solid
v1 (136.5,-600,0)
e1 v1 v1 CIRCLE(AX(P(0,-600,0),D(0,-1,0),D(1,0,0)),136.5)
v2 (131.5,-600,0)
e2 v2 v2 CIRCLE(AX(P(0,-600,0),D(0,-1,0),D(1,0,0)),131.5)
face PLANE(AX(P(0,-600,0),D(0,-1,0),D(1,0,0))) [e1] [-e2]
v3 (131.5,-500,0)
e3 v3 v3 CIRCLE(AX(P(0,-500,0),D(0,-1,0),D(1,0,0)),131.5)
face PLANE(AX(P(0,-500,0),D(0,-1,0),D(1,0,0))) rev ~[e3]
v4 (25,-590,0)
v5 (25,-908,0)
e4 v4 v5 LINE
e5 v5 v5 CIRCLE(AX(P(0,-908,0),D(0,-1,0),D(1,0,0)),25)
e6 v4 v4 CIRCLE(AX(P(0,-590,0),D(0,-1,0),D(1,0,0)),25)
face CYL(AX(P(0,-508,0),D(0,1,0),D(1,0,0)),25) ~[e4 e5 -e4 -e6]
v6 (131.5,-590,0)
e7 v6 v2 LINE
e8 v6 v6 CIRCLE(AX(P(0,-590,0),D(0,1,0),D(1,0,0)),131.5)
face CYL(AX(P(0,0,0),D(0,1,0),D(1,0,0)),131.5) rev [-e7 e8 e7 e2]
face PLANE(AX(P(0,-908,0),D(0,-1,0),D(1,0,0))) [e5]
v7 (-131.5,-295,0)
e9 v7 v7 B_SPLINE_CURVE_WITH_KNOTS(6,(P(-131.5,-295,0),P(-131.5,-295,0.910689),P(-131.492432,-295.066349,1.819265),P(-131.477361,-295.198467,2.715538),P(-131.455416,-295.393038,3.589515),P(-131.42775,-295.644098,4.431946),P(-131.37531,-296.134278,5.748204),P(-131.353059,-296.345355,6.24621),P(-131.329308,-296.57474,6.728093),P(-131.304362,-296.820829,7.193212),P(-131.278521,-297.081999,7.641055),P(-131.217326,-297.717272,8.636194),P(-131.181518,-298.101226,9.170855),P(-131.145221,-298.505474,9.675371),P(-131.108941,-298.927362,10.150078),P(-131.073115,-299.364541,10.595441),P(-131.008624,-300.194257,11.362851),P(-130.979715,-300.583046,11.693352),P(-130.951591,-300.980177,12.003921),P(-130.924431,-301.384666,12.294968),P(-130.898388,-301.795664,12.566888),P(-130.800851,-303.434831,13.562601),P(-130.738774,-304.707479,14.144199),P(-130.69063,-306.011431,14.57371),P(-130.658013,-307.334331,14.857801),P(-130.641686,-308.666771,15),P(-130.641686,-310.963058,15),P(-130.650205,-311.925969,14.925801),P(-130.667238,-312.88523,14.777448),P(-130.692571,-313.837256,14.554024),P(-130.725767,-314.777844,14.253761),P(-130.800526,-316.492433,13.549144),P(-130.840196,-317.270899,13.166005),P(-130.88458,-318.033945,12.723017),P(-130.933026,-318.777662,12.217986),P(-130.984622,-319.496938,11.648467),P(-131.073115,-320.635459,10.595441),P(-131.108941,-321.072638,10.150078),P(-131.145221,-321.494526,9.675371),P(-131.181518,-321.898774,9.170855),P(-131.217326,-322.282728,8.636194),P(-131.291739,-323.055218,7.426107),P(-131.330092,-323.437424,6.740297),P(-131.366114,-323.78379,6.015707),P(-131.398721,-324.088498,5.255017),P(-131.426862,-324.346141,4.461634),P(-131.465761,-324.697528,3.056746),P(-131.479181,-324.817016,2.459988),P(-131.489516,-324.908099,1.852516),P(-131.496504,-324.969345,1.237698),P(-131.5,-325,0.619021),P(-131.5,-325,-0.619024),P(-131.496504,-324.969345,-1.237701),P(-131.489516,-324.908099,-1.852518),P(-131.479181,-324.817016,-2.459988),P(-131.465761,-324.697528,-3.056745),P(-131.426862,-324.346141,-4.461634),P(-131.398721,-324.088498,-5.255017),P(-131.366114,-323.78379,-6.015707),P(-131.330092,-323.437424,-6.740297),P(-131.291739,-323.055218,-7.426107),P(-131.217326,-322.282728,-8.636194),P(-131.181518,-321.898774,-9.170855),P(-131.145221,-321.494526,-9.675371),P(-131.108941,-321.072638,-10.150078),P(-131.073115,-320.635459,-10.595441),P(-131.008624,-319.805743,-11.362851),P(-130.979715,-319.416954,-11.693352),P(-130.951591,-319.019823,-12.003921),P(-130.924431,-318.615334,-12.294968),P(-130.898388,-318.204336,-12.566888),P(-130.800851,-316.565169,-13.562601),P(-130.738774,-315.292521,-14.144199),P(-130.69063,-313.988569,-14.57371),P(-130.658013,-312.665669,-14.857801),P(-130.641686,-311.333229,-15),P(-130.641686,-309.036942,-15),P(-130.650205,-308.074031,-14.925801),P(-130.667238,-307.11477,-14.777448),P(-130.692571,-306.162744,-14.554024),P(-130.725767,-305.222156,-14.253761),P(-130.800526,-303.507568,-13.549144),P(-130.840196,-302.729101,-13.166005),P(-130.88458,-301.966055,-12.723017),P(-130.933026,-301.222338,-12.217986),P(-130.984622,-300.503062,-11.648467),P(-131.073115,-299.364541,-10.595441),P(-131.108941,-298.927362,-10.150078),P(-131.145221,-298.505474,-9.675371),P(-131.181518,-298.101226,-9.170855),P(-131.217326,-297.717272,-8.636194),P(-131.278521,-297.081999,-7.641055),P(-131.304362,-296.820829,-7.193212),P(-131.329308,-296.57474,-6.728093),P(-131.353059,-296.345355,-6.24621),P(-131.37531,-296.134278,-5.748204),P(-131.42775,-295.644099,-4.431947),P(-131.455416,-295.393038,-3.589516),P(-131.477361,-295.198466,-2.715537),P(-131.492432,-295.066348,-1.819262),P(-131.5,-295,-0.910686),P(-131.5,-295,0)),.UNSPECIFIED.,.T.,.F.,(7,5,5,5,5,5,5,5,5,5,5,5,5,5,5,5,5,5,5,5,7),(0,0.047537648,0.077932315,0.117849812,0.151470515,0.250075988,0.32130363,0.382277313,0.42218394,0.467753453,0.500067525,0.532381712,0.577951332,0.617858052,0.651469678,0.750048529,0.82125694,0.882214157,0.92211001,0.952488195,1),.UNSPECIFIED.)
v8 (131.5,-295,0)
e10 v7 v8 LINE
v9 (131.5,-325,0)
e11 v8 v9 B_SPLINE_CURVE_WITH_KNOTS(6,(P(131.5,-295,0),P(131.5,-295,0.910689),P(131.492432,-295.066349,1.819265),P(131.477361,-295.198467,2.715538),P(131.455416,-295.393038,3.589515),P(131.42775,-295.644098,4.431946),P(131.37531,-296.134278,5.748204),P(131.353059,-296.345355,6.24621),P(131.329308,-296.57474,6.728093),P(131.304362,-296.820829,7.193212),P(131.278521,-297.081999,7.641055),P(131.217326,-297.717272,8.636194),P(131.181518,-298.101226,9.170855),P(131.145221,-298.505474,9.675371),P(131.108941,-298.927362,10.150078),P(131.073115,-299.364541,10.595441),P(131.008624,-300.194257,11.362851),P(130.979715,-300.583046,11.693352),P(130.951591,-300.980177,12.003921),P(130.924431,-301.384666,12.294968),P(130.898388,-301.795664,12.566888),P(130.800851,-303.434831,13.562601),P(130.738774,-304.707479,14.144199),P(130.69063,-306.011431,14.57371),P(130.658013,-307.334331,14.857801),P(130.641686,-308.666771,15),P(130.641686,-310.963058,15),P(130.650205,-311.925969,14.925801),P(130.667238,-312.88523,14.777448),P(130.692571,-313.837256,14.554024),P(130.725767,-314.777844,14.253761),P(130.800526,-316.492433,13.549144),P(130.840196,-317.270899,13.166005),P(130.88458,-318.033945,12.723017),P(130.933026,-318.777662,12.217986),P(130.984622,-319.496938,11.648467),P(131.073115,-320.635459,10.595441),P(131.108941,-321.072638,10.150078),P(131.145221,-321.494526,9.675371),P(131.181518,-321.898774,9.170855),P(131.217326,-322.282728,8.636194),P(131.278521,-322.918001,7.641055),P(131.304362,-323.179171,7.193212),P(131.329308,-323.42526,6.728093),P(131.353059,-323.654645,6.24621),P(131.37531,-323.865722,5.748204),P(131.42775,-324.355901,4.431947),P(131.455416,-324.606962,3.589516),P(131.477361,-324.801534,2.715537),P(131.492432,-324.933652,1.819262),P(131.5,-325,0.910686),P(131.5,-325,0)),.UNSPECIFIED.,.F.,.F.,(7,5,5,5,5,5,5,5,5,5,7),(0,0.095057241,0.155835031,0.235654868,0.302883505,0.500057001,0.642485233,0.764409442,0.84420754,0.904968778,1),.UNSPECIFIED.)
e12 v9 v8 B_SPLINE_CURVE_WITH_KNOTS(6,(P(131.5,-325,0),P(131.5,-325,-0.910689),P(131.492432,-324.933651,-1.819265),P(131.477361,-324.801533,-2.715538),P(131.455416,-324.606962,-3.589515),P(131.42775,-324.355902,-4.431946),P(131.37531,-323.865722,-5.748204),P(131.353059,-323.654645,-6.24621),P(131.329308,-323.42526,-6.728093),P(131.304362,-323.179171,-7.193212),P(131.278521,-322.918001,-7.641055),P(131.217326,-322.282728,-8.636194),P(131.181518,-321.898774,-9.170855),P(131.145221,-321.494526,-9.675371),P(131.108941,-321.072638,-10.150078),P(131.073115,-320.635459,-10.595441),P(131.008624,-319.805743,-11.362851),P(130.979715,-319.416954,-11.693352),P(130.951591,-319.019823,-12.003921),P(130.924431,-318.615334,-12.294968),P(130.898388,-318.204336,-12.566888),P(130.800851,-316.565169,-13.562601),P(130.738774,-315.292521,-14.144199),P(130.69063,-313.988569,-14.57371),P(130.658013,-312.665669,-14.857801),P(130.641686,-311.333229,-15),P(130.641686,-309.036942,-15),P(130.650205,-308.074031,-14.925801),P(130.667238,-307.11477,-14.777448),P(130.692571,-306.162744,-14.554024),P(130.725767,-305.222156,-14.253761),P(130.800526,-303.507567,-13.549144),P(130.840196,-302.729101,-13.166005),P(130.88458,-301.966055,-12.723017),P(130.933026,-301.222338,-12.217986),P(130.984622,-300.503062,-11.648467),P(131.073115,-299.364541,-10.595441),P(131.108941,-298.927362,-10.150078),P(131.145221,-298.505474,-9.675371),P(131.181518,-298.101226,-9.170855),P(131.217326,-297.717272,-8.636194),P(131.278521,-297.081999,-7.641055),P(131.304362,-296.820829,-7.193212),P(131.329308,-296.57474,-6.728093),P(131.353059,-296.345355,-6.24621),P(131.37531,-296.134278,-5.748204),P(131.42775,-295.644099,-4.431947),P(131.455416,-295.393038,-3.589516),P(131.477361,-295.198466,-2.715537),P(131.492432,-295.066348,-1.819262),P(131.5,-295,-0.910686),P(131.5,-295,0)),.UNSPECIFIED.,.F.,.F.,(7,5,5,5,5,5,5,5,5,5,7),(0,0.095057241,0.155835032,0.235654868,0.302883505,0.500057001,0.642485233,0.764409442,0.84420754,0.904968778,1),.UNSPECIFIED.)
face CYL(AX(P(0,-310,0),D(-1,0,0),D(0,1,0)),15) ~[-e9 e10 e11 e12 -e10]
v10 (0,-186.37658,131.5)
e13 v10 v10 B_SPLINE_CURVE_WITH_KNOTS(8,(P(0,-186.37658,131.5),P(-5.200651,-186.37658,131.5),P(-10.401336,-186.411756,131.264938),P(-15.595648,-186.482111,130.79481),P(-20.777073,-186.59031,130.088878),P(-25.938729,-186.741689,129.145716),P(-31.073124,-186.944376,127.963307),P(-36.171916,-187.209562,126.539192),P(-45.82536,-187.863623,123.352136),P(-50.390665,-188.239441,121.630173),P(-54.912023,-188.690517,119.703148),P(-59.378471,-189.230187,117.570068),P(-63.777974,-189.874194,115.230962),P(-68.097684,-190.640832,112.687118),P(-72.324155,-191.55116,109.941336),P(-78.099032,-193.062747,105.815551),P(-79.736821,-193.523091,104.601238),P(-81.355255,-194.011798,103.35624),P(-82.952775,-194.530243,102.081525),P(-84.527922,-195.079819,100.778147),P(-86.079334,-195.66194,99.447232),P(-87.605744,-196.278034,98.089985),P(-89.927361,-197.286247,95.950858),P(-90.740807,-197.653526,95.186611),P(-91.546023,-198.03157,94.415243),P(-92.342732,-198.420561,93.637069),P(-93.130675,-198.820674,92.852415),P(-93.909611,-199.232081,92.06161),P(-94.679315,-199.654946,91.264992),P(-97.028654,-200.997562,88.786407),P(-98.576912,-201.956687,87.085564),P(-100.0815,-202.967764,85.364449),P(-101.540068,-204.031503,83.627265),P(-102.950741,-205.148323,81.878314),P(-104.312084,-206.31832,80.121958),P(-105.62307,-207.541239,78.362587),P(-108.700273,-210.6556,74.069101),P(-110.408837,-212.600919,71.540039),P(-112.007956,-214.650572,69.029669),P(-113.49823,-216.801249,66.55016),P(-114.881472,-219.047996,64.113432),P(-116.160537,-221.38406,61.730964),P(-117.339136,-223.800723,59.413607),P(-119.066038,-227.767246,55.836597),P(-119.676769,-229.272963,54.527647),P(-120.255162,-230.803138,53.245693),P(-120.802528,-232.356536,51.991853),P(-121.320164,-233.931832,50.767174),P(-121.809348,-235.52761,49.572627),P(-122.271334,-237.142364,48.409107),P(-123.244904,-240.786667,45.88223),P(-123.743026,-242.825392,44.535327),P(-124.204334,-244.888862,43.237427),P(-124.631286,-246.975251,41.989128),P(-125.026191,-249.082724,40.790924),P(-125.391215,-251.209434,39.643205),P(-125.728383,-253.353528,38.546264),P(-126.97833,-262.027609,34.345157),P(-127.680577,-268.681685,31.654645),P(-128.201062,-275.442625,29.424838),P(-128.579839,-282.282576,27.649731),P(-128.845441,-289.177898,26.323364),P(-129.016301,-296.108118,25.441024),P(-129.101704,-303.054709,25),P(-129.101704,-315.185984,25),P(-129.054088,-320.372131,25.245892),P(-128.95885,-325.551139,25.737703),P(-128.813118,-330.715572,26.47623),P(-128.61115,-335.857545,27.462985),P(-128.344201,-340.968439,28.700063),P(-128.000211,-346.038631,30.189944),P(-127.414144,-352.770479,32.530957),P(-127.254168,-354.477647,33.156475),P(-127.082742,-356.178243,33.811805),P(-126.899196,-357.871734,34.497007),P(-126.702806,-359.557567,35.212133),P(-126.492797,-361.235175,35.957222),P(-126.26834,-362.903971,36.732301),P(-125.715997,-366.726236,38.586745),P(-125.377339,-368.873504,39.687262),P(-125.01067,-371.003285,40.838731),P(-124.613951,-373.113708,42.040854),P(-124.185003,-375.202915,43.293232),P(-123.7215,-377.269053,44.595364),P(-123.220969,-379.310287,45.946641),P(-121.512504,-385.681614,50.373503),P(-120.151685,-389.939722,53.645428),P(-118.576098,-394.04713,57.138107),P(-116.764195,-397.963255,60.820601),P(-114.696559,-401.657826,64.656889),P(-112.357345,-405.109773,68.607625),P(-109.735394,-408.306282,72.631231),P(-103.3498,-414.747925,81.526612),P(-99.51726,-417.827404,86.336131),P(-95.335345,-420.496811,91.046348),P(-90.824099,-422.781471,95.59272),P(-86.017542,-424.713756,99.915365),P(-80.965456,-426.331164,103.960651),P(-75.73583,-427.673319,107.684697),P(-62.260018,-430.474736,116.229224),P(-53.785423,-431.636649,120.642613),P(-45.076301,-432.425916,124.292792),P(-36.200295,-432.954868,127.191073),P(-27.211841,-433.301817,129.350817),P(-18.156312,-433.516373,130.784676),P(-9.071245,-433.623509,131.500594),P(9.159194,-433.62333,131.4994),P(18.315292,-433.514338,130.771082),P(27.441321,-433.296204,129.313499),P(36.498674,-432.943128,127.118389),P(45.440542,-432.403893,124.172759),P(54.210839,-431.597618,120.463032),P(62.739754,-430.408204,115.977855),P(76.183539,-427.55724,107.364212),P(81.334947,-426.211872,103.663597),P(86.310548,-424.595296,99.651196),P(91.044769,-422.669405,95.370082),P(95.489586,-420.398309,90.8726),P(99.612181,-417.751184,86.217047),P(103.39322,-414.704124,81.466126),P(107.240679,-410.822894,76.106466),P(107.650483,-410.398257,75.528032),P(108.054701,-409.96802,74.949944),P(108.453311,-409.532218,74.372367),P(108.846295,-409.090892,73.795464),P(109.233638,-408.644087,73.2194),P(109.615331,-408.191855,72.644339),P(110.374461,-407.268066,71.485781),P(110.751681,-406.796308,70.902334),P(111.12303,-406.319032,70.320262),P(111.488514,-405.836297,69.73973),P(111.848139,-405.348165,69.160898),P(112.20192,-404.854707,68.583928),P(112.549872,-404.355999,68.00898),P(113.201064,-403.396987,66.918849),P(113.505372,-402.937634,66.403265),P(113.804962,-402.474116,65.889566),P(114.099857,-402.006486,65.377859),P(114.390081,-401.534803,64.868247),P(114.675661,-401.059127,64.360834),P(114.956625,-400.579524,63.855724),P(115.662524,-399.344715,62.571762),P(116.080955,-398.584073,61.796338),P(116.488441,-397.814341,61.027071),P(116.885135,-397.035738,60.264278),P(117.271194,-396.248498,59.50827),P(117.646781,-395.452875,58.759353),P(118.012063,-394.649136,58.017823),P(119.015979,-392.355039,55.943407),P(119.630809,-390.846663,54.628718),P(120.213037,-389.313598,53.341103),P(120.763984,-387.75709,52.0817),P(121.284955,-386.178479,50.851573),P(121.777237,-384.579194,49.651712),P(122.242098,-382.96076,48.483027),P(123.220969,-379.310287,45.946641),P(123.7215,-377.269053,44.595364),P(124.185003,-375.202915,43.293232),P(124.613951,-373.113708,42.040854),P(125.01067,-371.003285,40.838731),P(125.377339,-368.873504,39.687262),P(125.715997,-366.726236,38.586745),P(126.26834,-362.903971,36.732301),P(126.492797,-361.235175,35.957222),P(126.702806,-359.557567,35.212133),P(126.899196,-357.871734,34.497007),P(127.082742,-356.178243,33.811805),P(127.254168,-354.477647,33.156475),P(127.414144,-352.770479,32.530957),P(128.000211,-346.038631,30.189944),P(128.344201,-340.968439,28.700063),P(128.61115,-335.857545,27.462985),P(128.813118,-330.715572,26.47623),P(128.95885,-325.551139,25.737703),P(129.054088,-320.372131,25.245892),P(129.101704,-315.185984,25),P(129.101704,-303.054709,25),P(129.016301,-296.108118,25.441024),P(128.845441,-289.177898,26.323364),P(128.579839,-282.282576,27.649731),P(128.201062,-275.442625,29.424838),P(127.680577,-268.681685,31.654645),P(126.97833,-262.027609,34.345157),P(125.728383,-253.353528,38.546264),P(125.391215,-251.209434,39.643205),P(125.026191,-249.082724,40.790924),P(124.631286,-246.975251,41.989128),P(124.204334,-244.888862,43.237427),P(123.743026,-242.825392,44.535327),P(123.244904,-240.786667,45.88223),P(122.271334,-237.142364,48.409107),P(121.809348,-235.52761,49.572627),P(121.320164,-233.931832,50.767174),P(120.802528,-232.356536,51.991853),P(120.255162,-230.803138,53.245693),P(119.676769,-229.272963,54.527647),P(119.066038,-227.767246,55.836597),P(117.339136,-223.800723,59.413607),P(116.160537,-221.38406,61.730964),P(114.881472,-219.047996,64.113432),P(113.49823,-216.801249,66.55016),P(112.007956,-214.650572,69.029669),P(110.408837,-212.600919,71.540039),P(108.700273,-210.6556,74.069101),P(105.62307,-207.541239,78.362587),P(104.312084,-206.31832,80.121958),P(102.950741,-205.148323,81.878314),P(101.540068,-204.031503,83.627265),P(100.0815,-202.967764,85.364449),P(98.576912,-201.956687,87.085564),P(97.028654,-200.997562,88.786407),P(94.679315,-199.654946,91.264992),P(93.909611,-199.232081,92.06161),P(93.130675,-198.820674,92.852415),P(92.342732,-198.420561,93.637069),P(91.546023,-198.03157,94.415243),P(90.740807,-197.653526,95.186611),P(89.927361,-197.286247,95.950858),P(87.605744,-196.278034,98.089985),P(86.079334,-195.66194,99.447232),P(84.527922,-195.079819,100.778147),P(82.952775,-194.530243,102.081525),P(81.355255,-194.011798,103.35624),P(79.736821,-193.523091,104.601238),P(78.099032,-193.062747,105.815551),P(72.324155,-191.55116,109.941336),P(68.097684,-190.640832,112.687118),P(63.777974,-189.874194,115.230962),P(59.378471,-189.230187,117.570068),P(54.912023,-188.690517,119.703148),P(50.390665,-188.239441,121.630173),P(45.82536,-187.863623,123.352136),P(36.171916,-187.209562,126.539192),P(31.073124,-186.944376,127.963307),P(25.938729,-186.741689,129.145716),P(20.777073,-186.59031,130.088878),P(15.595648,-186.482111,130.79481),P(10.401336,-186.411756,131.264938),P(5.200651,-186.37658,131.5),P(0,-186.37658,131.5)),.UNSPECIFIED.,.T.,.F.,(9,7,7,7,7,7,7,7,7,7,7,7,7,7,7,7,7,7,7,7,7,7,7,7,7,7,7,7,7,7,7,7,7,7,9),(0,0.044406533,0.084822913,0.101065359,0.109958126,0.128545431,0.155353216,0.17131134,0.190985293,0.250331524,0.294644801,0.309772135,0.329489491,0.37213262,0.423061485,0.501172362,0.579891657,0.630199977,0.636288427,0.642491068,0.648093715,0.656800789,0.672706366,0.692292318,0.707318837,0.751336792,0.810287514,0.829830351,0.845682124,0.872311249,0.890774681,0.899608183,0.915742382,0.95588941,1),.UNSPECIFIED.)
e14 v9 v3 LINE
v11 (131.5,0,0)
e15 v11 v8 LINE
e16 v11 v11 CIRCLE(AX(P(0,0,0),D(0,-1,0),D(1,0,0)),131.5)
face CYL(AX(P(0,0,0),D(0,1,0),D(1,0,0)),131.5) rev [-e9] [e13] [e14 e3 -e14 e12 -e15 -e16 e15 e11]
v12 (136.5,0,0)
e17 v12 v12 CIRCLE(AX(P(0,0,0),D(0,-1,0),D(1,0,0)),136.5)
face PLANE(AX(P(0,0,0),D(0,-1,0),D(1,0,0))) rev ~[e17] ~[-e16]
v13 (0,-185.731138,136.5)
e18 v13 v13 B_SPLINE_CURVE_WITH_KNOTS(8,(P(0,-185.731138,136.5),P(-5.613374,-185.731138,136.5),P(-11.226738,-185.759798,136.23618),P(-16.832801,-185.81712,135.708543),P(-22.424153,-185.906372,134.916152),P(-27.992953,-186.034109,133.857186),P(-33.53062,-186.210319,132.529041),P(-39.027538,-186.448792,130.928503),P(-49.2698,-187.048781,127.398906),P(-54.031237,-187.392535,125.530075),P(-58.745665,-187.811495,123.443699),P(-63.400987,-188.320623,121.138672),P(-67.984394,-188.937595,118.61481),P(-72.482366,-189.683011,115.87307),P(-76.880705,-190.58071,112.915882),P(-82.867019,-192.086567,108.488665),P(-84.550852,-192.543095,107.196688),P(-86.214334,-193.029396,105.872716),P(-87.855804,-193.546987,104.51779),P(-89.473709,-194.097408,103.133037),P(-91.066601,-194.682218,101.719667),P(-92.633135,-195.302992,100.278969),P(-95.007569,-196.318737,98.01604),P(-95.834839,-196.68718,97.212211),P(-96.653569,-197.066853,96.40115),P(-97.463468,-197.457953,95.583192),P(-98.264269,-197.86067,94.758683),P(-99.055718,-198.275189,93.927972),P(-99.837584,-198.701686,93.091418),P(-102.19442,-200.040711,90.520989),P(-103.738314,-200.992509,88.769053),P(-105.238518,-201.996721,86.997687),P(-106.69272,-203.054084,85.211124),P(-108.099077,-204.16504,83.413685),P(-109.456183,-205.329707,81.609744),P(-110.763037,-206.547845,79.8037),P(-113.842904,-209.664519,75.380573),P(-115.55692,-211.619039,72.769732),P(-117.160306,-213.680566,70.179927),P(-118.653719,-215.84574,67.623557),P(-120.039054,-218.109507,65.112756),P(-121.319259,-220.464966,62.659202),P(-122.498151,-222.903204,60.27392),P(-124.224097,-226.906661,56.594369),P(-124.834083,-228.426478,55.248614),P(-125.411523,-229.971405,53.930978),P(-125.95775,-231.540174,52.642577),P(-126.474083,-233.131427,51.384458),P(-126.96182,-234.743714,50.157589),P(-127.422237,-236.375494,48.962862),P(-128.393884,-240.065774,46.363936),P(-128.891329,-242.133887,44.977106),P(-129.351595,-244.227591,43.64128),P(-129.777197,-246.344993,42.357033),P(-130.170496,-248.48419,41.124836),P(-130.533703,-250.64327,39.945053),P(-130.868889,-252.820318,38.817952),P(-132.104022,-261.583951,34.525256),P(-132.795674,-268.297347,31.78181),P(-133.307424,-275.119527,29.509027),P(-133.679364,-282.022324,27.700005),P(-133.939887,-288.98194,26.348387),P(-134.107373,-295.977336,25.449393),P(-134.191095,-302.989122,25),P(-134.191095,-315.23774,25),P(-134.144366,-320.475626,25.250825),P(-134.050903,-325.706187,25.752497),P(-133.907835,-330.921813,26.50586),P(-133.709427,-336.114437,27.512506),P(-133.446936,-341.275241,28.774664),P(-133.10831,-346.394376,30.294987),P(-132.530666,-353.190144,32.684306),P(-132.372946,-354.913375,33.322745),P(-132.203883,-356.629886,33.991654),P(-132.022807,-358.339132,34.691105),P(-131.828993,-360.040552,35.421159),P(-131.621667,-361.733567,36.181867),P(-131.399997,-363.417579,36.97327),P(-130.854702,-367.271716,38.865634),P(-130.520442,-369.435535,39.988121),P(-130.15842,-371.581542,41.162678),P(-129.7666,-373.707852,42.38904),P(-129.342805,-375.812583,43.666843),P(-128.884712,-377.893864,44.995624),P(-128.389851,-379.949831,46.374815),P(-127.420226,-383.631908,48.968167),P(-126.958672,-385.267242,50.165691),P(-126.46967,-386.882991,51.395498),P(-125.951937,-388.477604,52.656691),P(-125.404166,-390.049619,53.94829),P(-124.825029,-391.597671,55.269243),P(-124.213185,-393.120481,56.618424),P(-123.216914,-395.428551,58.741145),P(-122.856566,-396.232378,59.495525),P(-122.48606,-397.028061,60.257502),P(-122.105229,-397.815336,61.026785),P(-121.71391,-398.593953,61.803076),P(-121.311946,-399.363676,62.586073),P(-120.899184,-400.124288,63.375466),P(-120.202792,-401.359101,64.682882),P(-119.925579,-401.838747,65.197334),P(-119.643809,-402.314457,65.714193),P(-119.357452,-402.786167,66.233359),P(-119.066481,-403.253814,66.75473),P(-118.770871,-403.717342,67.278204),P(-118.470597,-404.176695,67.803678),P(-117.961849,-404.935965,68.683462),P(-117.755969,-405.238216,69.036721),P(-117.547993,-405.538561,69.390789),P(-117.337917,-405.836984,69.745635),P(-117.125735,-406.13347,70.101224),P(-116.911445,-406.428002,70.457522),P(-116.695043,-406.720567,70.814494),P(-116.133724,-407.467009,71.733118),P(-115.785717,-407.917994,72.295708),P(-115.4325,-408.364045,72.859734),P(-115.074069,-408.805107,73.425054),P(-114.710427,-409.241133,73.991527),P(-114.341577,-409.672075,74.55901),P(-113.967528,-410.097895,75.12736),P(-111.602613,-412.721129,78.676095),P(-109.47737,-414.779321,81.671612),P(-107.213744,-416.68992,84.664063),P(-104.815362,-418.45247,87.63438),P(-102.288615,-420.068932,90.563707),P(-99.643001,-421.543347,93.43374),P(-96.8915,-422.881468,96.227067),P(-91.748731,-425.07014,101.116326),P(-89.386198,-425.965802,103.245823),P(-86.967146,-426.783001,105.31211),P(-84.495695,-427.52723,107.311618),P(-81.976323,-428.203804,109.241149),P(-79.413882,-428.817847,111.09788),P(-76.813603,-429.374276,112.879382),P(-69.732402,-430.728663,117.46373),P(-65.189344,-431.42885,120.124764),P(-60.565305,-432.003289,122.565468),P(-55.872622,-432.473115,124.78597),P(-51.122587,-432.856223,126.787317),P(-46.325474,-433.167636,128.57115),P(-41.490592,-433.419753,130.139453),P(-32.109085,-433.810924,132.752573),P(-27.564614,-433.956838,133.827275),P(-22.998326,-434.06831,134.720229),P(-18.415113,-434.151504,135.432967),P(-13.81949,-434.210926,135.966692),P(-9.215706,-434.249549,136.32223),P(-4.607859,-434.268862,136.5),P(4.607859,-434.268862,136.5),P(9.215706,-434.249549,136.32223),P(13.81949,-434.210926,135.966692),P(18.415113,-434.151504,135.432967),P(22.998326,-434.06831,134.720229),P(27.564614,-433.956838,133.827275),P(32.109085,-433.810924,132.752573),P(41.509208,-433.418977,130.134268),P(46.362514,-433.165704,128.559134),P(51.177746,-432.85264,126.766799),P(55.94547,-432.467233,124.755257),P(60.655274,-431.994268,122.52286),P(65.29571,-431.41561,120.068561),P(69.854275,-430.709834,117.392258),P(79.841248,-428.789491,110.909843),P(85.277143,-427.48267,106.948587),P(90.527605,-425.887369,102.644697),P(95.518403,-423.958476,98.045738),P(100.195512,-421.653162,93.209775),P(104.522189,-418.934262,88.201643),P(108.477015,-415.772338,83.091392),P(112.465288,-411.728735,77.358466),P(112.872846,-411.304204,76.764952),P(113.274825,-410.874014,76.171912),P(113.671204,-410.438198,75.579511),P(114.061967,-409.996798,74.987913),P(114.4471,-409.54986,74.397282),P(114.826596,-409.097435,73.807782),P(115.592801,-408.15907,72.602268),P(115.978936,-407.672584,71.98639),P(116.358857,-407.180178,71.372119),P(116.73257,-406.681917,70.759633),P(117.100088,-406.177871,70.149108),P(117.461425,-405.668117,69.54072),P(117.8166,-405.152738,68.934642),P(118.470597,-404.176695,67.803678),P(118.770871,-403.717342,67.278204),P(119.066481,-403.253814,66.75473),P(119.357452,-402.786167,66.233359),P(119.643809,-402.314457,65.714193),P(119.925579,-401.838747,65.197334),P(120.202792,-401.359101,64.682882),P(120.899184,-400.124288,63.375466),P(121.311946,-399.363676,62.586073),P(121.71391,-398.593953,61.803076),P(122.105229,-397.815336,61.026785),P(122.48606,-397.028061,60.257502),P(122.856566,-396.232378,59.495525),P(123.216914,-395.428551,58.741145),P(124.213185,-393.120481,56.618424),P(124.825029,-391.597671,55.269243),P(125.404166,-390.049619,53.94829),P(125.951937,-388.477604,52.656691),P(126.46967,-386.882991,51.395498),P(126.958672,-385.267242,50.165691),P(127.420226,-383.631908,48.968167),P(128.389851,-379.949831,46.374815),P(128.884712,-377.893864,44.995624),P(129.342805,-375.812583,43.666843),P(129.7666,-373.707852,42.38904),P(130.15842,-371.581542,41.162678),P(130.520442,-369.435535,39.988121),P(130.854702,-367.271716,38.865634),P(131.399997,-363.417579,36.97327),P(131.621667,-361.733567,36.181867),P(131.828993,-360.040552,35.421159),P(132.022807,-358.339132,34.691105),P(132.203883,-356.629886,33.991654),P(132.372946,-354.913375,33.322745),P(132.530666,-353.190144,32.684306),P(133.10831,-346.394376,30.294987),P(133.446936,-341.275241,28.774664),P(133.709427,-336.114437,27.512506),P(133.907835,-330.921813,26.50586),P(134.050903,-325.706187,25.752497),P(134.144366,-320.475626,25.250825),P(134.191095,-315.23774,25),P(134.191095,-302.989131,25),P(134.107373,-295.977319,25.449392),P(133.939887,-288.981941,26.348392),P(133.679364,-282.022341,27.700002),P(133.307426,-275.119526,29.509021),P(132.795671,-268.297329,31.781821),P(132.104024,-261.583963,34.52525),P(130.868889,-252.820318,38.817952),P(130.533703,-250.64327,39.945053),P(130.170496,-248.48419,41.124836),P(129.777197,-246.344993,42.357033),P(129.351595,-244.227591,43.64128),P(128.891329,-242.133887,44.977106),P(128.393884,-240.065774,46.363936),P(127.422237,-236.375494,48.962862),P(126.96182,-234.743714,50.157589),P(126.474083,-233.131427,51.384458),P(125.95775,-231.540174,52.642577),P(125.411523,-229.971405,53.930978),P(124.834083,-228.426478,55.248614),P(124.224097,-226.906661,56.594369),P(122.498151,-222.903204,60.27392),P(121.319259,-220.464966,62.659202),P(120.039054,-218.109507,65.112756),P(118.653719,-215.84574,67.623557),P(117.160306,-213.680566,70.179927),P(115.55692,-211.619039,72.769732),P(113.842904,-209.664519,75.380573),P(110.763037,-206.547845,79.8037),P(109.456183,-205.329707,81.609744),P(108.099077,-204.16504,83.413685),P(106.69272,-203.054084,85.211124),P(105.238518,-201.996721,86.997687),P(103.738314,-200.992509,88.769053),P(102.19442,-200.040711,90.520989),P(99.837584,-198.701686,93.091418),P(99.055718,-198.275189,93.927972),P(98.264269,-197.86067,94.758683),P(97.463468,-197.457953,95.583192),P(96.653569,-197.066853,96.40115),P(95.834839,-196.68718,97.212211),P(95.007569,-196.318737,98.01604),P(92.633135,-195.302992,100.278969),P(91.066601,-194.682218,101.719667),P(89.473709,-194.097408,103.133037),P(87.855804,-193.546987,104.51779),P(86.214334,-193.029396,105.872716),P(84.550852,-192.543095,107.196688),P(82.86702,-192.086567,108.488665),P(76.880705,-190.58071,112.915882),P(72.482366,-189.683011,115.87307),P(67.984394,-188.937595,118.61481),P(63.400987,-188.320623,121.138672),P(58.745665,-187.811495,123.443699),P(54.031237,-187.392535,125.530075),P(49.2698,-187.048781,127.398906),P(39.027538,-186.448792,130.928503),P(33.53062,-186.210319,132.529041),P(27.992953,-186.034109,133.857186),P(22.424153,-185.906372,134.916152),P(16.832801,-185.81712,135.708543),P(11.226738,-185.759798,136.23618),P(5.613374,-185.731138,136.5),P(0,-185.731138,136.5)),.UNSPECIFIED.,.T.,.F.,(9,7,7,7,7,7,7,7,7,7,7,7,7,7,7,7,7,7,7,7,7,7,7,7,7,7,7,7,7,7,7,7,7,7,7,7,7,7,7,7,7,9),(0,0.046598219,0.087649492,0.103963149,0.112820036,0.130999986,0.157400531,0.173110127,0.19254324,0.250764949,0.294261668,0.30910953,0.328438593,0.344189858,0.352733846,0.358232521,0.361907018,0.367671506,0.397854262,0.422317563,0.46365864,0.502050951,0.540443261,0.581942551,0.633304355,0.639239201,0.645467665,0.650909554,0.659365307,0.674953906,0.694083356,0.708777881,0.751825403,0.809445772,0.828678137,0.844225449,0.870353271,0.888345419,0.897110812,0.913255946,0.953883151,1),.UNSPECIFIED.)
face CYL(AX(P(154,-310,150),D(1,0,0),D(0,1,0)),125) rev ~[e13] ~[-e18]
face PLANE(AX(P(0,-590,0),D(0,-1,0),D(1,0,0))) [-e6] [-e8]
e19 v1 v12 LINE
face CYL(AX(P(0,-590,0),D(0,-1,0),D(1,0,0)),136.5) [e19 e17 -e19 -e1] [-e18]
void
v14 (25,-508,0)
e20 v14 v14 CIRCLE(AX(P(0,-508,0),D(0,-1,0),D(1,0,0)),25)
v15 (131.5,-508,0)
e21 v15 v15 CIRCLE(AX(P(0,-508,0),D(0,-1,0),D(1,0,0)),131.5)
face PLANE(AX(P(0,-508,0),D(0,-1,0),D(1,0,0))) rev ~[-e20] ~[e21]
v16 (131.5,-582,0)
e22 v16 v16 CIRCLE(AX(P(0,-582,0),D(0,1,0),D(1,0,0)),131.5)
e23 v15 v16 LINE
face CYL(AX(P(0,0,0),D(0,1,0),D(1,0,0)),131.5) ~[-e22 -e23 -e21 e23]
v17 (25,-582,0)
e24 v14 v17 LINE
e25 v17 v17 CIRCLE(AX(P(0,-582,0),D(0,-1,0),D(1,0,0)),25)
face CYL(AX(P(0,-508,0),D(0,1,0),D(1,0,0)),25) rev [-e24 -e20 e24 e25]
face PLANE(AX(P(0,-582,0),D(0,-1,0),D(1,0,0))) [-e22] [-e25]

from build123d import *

# Parameters (mm, degrees)
F0_R      = 136.5
F0_R_2    = 131.5
F1_DEPTH  = 600
F3_R      = 131.5
F4_DEPTH  = 8
F5_R      = 25
F6_DEPTH  = 400
F7_R      = 15
F8_DEPTH  = 154
F9_DEPTH  = 149
F10_R     = 125
F11_DEPTH = 348
F12_R     = 175
F12_R_2   = 136.5
F13_DEPTH = 1133
F15_R     = 136.5
F15_R_2   = 25
F16_DEPTH = 8


with BuildPart() as f1:
    # F0 (on Front) → F1 (new body)
    with BuildSketch(Plane.XZ):
        Circle(F0_R)
        Circle(F0_R_2, mode=Mode.SUBTRACT)
    extrude(amount=F1_DEPTH)

    # F3 (on offset) → F4 (join)
    with BuildSketch(Plane.XZ.offset(500)):
        Circle(F3_R)
    extrude(amount=F4_DEPTH)

    # F5 (on face) → F6 (join)
    with BuildSketch(Plane.XZ.offset(508)):
        Circle(F5_R)
    extrude(amount=F6_DEPTH)

    # F7 (on Right) → F8 (join)
    with BuildSketch(Plane.YZ):
        with Locations((-310, 0)):
            Circle(F7_R)
    extrude(amount=F8_DEPTH)

    # F7 (on Right) → F9 (join)
    with BuildSketch(Plane.YZ):
        with Locations((-310, 0)):
            Circle(F7_R)
    extrude(amount=-F9_DEPTH)

    # F10 (on face) → F11 (cut)
    with BuildSketch(Plane.YZ.offset(154)):
        with Locations((-310, 150)):
            Circle(F10_R)
    extrude(amount=-F11_DEPTH, mode=Mode.SUBTRACT)

    # F12 (on face) → F13 (cut)
    with BuildSketch(Plane.XZ.offset(908)):
        Circle(F12_R)
        Circle(F12_R_2, mode=Mode.SUBTRACT)
    extrude(amount=-F13_DEPTH, mode=Mode.SUBTRACT)

    # F15 (on offset) → F16 (join)
    with BuildSketch(Plane.XZ.offset(590)):
        Circle(F15_R)
        Circle(F15_R_2, mode=Mode.SUBTRACT)
    extrude(amount=-F16_DEPTH)


solid = f1.part
